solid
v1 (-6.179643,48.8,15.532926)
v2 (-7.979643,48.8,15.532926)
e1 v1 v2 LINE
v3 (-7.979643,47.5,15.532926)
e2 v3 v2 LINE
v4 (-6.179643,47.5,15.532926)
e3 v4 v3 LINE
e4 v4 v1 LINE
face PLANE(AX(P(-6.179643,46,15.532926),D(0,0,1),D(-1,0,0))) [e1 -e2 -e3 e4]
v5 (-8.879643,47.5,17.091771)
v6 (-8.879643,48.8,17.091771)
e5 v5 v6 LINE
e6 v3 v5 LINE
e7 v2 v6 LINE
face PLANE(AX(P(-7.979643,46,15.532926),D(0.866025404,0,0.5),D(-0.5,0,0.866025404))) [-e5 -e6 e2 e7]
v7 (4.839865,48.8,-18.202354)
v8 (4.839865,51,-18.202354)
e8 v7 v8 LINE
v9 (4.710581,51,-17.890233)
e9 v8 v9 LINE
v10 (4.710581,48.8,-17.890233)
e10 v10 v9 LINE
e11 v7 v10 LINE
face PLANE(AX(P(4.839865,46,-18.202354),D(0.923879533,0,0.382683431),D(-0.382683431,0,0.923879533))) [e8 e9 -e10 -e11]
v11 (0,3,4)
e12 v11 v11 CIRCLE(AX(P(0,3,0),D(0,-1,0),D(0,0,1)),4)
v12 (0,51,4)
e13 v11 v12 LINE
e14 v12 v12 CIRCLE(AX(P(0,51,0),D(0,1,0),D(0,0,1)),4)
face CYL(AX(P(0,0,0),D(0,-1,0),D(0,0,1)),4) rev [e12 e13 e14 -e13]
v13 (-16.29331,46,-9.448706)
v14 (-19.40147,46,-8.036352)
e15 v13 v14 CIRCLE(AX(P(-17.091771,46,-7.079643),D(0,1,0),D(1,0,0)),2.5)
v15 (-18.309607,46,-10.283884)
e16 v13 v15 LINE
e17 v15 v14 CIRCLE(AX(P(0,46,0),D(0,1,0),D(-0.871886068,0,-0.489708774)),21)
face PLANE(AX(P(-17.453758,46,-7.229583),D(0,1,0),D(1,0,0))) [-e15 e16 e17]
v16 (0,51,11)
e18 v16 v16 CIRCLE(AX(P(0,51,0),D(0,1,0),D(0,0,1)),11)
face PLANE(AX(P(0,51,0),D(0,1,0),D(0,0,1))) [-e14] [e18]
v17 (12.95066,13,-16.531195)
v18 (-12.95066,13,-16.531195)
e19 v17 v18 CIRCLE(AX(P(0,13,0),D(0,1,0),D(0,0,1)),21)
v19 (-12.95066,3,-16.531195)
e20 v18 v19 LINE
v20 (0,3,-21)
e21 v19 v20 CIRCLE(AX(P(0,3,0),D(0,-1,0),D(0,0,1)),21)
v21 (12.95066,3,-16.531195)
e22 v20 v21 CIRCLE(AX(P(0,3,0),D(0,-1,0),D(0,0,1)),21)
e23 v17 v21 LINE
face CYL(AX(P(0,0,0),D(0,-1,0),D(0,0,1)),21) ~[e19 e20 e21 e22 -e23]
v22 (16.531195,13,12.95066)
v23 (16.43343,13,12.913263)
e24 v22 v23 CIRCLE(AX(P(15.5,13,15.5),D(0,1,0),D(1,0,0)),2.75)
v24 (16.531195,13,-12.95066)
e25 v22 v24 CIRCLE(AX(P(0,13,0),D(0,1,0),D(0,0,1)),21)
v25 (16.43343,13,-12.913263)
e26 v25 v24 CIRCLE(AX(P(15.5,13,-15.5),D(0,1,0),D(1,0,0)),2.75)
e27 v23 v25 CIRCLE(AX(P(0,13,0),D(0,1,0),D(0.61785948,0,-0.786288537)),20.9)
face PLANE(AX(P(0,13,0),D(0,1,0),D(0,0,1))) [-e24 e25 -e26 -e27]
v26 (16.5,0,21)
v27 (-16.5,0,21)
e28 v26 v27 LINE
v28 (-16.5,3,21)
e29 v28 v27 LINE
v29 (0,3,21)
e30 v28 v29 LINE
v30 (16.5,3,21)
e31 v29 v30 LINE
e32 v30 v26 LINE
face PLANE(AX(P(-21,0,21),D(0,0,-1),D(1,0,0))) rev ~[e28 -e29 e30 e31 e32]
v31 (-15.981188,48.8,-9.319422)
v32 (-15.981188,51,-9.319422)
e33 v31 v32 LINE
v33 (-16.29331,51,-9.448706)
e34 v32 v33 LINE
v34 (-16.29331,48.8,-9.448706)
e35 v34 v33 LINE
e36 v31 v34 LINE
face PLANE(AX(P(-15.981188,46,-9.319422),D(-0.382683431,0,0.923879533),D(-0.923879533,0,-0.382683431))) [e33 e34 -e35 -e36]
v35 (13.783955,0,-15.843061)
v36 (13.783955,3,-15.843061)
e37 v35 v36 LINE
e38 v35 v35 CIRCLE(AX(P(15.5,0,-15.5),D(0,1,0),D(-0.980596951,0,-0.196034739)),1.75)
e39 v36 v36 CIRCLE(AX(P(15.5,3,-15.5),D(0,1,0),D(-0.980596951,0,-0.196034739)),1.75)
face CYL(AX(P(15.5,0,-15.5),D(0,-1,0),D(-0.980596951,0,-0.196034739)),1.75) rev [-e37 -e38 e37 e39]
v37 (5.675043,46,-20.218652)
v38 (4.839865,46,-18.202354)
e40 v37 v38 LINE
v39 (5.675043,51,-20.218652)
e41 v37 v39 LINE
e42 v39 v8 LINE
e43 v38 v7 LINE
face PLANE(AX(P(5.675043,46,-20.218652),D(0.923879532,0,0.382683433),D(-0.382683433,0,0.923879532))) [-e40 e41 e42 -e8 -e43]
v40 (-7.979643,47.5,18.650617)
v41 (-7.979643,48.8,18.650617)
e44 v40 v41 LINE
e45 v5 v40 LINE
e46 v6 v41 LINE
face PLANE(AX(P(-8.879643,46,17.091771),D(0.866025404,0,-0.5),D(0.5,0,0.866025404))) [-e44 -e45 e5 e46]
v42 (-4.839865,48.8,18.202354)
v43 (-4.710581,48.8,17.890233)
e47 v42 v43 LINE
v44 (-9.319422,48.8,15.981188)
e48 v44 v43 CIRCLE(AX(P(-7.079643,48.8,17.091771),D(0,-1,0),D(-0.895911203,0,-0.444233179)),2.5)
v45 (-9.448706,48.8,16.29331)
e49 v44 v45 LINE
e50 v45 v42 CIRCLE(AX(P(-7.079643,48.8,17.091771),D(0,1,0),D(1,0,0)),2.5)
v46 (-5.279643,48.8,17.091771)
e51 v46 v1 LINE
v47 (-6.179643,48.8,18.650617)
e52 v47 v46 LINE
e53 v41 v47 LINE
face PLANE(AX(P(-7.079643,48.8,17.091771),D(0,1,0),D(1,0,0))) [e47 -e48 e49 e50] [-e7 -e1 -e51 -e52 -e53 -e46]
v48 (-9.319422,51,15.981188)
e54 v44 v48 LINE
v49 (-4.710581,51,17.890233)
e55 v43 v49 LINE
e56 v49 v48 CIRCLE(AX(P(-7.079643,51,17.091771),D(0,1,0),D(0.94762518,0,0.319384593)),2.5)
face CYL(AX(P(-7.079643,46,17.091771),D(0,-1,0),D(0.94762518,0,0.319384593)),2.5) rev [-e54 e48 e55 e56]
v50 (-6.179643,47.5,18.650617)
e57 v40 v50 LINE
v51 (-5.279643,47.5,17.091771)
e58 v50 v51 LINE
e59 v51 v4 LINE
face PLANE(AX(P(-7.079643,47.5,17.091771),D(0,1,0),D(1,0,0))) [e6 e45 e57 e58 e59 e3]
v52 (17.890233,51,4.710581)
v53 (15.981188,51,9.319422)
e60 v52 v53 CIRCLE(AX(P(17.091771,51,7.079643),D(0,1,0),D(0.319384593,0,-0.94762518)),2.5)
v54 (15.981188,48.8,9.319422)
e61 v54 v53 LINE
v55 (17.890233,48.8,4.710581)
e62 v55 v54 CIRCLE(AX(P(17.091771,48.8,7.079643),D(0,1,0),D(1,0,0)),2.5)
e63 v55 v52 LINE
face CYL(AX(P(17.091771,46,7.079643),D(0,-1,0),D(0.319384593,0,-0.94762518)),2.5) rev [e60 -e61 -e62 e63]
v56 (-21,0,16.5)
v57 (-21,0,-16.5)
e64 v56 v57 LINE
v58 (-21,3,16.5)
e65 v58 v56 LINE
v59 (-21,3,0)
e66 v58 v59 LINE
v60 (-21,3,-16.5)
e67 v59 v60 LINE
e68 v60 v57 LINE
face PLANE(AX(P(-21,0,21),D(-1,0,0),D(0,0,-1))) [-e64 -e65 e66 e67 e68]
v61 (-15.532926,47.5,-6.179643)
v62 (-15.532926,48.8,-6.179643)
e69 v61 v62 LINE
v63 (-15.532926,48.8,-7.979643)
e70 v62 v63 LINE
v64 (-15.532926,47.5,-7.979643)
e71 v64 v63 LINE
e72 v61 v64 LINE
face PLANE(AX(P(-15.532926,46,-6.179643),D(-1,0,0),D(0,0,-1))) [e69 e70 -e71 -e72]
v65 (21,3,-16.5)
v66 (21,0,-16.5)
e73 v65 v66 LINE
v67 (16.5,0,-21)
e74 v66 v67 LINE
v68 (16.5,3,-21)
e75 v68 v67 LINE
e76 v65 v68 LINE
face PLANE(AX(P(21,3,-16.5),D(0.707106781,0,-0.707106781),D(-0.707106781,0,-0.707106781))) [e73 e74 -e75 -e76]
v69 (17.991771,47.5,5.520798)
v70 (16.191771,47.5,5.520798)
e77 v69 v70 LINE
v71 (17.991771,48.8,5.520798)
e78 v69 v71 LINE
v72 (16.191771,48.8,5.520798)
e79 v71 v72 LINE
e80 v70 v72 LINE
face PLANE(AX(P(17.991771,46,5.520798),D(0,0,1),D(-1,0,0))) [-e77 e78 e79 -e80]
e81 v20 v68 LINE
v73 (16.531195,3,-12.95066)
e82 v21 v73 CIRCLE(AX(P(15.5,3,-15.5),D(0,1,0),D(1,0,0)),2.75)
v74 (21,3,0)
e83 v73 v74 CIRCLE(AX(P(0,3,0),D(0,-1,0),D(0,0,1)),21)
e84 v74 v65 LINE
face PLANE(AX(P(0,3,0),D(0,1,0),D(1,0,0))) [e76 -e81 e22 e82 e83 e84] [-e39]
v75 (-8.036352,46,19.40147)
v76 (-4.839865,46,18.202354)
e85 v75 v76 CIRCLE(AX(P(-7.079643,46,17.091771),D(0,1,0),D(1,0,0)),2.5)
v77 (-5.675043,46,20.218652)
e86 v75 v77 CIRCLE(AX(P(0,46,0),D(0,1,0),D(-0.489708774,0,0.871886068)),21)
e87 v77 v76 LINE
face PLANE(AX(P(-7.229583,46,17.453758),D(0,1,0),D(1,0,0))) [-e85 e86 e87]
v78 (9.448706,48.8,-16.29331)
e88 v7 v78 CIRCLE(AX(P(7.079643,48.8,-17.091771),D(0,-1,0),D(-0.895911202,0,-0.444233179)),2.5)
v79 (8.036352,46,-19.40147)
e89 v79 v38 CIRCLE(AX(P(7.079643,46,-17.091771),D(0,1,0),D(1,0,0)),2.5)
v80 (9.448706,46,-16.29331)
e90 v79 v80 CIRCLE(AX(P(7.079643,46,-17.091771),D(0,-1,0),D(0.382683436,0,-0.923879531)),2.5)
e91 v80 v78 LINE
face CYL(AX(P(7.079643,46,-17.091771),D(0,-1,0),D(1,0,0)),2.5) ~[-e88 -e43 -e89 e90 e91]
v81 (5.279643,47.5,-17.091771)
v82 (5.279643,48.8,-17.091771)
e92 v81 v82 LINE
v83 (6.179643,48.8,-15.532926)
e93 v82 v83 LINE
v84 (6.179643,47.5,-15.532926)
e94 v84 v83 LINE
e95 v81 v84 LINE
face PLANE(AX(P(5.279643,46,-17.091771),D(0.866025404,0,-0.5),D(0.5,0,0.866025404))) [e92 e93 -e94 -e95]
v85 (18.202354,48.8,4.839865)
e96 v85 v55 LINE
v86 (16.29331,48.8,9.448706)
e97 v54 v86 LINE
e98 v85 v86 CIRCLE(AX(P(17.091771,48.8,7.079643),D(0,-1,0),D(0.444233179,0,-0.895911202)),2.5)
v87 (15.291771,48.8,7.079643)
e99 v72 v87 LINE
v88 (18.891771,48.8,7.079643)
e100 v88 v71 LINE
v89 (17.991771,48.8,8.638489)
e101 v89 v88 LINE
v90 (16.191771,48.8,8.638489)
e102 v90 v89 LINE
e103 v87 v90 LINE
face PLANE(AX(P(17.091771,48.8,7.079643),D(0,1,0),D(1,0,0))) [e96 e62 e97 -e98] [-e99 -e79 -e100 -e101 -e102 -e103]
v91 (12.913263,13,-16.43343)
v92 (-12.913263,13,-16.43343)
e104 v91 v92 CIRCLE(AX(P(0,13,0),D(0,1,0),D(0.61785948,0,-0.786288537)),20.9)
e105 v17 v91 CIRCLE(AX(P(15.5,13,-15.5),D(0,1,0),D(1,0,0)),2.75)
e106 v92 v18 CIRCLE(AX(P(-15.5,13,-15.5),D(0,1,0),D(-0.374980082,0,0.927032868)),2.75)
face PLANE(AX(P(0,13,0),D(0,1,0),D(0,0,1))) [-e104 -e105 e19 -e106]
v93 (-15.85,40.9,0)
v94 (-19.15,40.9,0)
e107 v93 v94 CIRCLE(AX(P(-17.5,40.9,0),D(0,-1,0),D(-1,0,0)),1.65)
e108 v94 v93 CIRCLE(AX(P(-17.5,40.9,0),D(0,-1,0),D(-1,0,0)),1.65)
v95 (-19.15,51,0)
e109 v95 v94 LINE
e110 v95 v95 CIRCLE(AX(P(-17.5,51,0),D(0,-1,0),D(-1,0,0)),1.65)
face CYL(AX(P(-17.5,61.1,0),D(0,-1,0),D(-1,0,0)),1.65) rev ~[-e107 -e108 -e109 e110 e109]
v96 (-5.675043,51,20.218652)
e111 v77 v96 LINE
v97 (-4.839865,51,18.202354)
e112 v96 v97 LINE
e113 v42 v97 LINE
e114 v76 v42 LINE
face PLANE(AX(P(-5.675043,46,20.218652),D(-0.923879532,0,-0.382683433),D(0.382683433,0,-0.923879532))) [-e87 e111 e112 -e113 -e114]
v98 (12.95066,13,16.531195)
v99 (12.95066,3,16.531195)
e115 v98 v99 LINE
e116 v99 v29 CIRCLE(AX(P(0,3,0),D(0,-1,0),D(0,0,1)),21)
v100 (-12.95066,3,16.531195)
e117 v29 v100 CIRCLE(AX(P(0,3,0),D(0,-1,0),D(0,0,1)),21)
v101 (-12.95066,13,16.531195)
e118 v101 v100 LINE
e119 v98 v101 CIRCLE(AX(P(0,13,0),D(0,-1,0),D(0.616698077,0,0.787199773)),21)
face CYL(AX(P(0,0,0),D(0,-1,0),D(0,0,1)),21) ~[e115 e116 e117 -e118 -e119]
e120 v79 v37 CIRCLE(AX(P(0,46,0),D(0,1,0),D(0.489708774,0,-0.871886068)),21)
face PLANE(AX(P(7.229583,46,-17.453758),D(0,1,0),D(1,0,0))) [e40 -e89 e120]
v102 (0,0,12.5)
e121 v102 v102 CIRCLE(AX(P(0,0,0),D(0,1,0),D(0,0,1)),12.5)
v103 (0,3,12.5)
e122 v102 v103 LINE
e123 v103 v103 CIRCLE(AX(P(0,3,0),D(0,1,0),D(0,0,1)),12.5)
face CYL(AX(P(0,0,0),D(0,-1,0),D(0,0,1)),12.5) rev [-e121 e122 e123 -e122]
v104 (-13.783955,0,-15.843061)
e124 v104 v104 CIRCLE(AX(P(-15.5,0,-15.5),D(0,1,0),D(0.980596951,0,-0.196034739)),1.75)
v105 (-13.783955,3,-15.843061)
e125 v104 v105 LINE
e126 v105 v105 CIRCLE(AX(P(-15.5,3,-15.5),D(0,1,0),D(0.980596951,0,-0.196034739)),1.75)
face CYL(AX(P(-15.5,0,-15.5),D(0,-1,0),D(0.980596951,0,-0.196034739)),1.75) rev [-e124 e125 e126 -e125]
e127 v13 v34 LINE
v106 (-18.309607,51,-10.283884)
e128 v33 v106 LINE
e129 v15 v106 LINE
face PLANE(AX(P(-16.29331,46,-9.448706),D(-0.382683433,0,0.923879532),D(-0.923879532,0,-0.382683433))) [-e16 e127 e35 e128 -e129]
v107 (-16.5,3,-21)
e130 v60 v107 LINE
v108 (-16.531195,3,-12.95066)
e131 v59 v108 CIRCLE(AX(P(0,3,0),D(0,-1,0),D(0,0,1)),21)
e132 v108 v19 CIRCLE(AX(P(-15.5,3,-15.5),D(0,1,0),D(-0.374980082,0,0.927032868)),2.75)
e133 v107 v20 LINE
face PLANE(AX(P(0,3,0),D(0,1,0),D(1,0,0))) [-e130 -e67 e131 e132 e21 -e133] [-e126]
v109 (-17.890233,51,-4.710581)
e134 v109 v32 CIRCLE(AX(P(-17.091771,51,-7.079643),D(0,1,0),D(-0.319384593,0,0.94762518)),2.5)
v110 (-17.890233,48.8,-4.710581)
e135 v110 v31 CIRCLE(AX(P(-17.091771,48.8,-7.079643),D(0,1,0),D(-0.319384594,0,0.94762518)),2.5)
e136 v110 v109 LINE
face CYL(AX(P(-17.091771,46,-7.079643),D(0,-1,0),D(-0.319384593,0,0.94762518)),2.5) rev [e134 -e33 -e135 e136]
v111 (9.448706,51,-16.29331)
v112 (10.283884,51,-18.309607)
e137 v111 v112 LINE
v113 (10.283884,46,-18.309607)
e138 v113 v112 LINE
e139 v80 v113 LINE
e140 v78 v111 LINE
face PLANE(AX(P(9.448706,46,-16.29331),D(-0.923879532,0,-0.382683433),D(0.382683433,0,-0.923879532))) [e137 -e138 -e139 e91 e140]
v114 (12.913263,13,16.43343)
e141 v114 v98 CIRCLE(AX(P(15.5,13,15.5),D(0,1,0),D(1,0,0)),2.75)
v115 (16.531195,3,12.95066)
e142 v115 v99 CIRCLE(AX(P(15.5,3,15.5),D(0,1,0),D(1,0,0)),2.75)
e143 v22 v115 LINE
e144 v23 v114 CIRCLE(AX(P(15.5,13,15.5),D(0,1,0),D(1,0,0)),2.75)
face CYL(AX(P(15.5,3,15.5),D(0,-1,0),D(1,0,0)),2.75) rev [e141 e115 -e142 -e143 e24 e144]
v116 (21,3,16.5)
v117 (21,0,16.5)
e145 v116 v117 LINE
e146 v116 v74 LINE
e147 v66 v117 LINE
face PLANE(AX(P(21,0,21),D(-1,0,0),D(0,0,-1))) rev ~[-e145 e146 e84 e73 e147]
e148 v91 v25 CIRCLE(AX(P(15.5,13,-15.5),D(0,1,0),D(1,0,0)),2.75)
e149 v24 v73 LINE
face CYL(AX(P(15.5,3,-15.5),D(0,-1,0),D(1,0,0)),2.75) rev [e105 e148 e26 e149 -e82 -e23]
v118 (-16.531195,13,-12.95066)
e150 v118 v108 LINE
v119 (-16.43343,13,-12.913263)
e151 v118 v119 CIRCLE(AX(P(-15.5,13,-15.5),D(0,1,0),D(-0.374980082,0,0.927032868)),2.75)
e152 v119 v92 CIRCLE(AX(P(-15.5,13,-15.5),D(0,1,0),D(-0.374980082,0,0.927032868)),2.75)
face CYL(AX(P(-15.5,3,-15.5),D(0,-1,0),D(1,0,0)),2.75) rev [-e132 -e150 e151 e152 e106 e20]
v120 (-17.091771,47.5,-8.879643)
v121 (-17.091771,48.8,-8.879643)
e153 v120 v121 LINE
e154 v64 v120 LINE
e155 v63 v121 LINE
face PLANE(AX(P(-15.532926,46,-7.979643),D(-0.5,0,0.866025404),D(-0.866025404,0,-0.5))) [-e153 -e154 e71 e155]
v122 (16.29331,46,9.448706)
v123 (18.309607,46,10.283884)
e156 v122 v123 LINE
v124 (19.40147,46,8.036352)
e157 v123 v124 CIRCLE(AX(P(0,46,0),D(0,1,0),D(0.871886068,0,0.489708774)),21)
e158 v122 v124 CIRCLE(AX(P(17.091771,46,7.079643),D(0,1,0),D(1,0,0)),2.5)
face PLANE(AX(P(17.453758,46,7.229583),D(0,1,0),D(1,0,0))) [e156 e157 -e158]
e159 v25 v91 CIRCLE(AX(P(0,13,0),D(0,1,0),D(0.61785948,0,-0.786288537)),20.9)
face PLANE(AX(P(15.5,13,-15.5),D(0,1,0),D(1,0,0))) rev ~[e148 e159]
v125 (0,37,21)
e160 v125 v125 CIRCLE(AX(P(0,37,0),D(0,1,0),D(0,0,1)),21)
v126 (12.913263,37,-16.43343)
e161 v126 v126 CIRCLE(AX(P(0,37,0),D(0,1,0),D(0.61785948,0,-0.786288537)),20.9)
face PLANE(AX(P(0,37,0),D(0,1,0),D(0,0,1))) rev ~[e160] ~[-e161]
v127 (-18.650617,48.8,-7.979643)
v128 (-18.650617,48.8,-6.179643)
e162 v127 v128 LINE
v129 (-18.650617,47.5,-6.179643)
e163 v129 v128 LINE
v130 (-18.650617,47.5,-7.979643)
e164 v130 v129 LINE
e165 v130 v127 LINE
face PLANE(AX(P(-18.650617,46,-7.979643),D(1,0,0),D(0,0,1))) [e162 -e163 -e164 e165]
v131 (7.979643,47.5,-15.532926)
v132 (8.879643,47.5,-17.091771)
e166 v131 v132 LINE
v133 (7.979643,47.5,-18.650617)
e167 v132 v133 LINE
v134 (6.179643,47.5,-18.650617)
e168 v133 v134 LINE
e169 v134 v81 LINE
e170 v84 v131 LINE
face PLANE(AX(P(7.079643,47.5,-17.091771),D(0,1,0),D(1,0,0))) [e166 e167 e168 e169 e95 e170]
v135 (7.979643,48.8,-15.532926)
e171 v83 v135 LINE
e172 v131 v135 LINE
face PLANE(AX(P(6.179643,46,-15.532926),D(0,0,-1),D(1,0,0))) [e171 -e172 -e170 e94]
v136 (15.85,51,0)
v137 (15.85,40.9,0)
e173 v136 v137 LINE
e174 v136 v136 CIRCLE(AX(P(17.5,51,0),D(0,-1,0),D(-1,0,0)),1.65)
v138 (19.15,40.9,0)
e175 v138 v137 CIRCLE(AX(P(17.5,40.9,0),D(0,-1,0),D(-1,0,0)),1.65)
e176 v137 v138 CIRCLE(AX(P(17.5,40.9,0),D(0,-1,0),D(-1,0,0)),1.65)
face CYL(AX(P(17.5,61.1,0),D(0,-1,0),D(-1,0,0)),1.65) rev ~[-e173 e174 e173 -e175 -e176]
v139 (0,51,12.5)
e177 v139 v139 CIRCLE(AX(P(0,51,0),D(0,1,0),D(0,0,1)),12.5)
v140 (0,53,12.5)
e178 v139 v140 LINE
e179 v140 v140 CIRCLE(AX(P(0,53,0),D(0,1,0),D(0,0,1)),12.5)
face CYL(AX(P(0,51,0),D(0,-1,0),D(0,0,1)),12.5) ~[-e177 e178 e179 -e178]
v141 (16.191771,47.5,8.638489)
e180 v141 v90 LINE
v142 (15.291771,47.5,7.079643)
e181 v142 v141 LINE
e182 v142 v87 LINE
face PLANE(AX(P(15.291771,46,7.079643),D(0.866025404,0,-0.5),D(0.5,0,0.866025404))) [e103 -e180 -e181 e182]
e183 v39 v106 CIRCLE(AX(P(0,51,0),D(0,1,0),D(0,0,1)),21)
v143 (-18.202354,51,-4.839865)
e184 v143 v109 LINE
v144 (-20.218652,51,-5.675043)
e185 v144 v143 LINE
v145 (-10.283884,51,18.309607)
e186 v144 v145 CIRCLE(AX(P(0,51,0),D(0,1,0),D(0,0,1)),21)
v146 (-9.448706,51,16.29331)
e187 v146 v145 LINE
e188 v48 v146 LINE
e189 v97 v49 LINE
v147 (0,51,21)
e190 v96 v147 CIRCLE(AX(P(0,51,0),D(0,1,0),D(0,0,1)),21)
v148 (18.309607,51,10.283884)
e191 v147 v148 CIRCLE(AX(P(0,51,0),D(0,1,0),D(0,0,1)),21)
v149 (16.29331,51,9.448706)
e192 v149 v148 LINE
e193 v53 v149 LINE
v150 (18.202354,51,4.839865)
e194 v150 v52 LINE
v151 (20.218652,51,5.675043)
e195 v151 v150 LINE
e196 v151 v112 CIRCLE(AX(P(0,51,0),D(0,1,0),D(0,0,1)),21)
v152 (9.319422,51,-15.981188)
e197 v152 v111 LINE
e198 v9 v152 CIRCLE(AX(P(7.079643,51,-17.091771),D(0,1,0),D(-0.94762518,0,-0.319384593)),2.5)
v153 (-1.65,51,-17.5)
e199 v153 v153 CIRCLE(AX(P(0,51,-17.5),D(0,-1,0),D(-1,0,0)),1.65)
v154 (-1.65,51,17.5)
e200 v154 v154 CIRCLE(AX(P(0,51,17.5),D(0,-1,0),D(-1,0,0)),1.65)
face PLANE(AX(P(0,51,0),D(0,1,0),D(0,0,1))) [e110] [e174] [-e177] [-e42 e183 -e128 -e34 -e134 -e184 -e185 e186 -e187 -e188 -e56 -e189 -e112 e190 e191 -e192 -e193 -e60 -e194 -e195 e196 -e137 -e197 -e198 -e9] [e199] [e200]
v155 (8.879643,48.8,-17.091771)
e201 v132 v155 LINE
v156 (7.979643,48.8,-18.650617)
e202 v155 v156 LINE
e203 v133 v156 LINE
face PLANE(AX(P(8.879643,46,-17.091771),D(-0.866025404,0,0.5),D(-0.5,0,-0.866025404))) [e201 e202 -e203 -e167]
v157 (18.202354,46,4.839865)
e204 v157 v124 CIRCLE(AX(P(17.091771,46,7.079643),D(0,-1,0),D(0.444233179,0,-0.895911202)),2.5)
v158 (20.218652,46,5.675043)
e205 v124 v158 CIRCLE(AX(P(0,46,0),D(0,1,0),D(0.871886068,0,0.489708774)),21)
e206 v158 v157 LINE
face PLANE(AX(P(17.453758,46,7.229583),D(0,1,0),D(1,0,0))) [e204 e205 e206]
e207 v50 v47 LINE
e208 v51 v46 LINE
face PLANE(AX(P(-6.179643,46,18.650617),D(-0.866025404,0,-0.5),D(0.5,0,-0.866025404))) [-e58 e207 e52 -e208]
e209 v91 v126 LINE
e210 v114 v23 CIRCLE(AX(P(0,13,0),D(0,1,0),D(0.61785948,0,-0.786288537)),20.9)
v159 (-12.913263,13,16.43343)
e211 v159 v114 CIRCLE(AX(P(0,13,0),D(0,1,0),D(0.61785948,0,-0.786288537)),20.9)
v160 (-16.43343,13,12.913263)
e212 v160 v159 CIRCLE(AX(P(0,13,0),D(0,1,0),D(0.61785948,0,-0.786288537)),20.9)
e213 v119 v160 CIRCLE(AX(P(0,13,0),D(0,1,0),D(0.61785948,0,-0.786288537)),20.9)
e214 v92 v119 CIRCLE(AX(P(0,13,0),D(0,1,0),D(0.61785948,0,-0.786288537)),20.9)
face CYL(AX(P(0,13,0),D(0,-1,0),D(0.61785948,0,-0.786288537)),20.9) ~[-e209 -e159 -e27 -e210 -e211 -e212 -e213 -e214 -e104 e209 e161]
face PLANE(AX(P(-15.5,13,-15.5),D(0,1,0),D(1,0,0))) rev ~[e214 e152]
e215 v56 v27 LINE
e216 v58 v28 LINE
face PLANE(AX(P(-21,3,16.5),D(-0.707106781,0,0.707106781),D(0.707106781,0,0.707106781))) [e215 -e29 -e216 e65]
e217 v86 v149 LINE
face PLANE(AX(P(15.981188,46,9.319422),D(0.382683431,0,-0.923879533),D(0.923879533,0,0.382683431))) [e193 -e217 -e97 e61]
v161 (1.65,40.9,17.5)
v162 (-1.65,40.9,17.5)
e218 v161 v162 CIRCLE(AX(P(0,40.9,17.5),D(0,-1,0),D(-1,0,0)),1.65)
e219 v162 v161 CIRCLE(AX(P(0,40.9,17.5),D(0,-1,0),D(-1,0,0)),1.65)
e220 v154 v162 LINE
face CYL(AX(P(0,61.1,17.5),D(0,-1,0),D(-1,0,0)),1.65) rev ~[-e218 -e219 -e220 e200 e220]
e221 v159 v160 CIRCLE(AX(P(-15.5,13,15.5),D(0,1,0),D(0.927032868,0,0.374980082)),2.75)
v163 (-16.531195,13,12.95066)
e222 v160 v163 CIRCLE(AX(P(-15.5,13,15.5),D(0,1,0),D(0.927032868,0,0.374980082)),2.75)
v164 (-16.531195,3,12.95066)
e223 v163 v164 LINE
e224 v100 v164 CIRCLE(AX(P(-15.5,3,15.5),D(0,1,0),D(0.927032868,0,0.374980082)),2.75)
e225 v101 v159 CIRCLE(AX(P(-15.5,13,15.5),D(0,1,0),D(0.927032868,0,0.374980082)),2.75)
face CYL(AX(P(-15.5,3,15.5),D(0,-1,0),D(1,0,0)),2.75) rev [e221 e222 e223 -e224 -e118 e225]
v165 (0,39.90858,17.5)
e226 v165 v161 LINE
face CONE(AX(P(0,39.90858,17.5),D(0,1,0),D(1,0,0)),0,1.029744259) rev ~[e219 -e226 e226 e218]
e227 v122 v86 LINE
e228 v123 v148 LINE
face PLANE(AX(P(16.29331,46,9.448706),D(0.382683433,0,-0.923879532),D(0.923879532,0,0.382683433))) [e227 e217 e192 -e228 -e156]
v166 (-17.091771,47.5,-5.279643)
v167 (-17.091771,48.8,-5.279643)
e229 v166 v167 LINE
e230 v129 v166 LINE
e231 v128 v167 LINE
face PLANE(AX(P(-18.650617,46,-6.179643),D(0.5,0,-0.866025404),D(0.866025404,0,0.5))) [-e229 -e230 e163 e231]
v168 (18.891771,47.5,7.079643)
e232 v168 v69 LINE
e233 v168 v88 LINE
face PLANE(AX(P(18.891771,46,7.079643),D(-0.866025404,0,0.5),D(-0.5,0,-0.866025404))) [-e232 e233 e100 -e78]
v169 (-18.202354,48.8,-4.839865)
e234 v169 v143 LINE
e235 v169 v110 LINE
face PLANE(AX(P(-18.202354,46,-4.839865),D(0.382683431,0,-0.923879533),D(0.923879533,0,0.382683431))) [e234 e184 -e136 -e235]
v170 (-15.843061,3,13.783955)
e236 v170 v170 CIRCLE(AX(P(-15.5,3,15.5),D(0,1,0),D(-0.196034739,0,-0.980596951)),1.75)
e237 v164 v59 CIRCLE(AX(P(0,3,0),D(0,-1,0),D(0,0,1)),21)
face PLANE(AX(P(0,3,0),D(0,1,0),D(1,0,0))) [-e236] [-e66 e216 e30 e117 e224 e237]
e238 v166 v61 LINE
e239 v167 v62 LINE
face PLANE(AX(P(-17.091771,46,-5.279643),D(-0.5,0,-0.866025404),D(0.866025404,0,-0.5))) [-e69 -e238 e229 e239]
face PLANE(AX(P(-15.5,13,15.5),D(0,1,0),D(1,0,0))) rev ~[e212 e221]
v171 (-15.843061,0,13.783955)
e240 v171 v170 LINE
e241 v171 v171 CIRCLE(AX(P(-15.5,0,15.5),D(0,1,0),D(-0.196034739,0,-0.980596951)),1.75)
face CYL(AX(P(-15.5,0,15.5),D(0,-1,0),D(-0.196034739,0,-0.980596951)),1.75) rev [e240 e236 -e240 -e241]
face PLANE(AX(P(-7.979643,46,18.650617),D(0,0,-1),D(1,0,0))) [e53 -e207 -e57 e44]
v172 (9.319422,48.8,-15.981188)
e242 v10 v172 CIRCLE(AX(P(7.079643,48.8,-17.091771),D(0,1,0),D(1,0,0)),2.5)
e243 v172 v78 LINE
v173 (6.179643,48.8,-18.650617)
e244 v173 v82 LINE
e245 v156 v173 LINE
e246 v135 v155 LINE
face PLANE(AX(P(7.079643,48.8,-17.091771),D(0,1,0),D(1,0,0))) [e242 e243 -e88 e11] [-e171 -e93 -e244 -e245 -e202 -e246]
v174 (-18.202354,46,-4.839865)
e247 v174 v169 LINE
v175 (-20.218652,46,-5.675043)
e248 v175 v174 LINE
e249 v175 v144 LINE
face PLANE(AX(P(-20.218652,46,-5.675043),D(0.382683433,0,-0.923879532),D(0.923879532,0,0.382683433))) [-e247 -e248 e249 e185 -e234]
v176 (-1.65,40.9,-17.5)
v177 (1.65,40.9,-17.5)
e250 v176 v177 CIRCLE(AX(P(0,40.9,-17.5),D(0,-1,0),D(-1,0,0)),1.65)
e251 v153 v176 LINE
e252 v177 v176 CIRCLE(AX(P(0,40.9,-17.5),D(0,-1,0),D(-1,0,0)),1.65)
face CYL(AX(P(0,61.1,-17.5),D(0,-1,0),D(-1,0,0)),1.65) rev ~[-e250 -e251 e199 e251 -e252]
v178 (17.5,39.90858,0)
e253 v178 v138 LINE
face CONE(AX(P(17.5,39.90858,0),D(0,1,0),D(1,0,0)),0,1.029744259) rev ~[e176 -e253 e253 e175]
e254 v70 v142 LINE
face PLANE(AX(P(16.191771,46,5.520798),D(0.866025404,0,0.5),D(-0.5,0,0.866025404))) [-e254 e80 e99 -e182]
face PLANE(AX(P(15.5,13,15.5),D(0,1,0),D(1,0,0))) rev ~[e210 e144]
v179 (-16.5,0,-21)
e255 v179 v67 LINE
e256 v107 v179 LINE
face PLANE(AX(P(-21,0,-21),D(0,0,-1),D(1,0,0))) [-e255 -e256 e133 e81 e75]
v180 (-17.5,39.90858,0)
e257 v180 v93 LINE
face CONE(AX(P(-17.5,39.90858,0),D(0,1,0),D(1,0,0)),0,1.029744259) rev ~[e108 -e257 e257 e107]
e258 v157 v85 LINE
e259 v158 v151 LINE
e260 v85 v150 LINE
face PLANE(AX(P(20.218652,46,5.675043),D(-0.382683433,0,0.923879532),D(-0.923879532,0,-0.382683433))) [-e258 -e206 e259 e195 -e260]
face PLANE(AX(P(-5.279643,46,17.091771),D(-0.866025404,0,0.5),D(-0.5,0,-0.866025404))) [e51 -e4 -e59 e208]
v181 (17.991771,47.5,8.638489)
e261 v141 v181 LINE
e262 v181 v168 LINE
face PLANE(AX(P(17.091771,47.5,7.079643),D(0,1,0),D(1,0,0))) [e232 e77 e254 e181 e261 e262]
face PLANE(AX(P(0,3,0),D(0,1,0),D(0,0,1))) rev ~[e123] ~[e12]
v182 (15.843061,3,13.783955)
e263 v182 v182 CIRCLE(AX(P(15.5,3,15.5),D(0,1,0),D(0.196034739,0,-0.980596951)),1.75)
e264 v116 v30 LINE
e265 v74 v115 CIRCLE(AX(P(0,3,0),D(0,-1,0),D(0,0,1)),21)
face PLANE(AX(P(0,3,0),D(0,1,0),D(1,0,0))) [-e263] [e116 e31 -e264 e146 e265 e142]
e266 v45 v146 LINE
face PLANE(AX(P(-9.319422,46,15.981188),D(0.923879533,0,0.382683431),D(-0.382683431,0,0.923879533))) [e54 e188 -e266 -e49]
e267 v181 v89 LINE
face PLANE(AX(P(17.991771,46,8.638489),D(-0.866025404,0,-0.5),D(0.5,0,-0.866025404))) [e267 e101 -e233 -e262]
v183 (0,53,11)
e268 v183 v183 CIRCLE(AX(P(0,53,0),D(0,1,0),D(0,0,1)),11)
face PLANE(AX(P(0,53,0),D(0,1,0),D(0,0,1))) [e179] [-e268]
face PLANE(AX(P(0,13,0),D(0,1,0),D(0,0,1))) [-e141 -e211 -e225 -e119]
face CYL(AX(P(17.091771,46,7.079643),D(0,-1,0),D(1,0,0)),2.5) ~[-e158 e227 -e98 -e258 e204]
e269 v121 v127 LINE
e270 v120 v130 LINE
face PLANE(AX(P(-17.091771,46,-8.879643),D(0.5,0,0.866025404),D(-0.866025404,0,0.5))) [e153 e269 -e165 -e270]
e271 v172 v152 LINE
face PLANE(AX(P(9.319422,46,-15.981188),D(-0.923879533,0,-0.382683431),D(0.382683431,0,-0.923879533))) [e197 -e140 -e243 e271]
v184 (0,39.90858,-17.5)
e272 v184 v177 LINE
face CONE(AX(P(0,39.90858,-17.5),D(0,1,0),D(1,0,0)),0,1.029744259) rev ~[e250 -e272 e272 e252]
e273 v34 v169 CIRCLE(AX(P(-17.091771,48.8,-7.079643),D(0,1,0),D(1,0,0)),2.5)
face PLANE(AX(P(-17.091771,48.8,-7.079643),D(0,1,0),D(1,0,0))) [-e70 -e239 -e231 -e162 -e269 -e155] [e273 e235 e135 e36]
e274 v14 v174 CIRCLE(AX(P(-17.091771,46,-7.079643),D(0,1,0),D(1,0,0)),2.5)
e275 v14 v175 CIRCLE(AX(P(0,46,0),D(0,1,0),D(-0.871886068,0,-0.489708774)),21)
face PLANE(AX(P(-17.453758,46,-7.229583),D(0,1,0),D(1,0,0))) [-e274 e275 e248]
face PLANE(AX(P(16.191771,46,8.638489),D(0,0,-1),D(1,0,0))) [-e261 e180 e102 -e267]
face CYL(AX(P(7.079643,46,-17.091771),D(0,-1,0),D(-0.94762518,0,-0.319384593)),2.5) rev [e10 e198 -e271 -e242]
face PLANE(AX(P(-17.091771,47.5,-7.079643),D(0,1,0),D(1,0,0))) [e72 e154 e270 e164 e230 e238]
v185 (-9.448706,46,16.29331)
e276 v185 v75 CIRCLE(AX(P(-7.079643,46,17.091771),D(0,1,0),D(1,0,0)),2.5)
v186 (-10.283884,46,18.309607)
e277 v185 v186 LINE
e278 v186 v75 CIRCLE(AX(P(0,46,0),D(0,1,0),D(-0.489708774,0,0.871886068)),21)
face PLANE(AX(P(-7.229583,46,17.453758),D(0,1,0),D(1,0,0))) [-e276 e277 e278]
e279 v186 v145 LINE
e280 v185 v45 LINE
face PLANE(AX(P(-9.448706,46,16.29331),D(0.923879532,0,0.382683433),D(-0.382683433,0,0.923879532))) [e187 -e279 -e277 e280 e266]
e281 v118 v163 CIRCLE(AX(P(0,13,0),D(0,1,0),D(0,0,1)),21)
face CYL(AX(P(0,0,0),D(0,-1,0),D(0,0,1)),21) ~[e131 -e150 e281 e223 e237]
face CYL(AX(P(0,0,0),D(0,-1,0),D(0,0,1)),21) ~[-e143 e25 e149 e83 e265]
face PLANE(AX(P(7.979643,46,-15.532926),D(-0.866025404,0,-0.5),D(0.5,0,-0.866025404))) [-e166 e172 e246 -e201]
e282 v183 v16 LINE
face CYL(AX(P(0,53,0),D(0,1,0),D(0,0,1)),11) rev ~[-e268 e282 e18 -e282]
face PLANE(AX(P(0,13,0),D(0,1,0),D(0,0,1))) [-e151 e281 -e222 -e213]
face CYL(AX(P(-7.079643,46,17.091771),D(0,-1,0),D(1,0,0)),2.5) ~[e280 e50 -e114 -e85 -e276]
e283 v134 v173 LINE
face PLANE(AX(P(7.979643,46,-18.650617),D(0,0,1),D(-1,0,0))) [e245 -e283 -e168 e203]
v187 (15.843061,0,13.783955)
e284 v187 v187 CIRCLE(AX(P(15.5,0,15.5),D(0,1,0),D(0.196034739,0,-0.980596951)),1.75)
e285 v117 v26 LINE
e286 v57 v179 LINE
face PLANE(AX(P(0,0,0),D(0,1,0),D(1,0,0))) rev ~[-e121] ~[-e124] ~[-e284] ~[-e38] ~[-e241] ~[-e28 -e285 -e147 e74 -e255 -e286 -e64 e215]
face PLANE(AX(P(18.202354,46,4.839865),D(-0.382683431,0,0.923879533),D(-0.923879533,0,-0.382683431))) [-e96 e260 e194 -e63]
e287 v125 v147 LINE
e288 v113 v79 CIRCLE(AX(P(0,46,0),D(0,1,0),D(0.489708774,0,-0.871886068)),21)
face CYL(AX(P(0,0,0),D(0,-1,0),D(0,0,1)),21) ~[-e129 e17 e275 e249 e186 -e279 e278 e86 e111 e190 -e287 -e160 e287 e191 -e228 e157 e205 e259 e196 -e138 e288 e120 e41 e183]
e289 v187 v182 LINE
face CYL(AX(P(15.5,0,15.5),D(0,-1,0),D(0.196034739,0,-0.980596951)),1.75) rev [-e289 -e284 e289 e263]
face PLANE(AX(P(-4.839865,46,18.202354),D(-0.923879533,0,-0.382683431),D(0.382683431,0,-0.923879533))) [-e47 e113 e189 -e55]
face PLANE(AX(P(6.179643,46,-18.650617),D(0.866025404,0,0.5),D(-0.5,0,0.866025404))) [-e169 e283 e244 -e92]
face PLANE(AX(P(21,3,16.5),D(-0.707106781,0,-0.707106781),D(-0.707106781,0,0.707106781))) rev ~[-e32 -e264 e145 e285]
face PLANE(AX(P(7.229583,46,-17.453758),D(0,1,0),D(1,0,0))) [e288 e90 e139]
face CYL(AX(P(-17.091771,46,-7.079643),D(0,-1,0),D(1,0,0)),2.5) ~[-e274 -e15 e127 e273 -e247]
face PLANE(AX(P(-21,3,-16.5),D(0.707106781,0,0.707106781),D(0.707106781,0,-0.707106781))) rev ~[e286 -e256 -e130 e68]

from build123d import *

# Parameters (mm, degrees)
SKETCH_1_W             = 42
SKETCH_1_H             = 42
EXTRUDE_1_DEPTH        = 3
CUT_EXTRUDE_START      = 3
CUT_EXTRUDE_1_DEPTH    = 3
SKETCH_3_R             = 21
EXTRUDE_2_DEPTH        = 51
SKETCH_5_R             = 1.75
CUT_EXTRUDE_3_DEPTH    = 3
SKETCH_7_R             = 2.75
CUT_EXTRUDE_4_DEPTH    = 10
CUT_EXTRUDE_START_2    = 13
SKETCH_8_R             = 21
SKETCH_8_R_2           = 20.9
CUT_EXTRUDE_5_DEPTH    = 24
EXTRUDE_START          = 51
SKETCH_9_R             = 12.5
EXTRUDE_3_DEPTH        = 2
CUT_EXTRUDE_START_3    = 53
SKETCH_16_R            = 11
CUT_EXTRUDE_6_DEPTH    = 2
CUT_EXTRUDE_START_4    = 46
CUT_EXTRUDE_7_DEPTH    = 5
EXTRUDE_START_2        = 46
SKETCH_18_R            = 2.5
EXTRUDE_5_DEPTH        = 2.8
SKETCH_19_R            = 4
CUT_EXTRUDE_8_DEPTH    = 51
EXTRUDE_6_DEPTH        = 1.5
SKETCH_21_R            = 12.5
CUT_EXTRUDE_9_DEPTH    = 3
HOLE_WIZARD_M4_1_D     = 3.3
HOLE_WIZARD_M4_1_DEPTH = 10.1
HOLE_WIZARD_M4_1_TIP   = 0.991420021


with BuildPart() as part:
    # 草图1 → 凸台-拉伸1 (new body)
    with BuildSketch(Plane(origin=(0, 0, 0), x_dir=(1, 0, 0), z_dir=(0, 1, 0))):
        Rectangle(SKETCH_1_W, SKETCH_1_H)
    extrude(amount=EXTRUDE_1_DEPTH)

    # 草图2 → 切除-拉伸1 (cut)
    with BuildSketch(Plane(origin=(0, 0, 0), x_dir=(1, 0, 0), z_dir=(0, 1, 0)).offset(CUT_EXTRUDE_START)):
        Polygon((-21, 21), (-21, 16.5), (-16.5, 21), align=None)
        Polygon((16.5, 21), (21, 21), (21, 16.5), align=None)
        Polygon((21, -21), (21, -16.5), (16.5, -21), align=None)
        Polygon((-16.5, -21), (-21, -21), (-21, -16.5), align=None)
    extrude(amount=-CUT_EXTRUDE_1_DEPTH, mode=Mode.SUBTRACT)

    # 草图3 → 凸台-拉伸2 (add)
    with BuildSketch(Plane(origin=(0, 0, 0), x_dir=(1, 0, 0), z_dir=(0, 1, 0))):
        with Locations(Location((0, 0, 0), (0, 0, 270))):
            Circle(SKETCH_3_R)
    extrude(amount=EXTRUDE_2_DEPTH)

    # 草图5 → 切除-拉伸3 (cut)
    with BuildSketch(Plane(origin=(0, 0, 0), x_dir=(1, 0, 0), z_dir=(0, 1, 0))):
        with Locations(Location((-15.5, 15.5, 0), (0, 0, 11.30517652))):
            Circle(SKETCH_5_R)
        with Locations(Location((15.5, 15.5, 0), (0, 0, 168.69482348))):
            Circle(SKETCH_5_R)
        with Locations(Location((-15.5, -15.5, 0), (0, 0, 101.30517652))):
            Circle(SKETCH_5_R)
        with Locations(Location((15.5, -15.5, 0), (0, 0, 78.69482348))):
            Circle(SKETCH_5_R)
    extrude(amount=CUT_EXTRUDE_3_DEPTH, mode=Mode.SUBTRACT)

    # 草图7 → 切除-拉伸4 (cut)
    with BuildSketch(Plane(origin=(0, 0, 0), x_dir=(1, 0, 0), z_dir=(0, 1, 0)).offset(CUT_EXTRUDE_START)):
        with Locations((-15.5, 15.5)):
            Circle(SKETCH_7_R)
        with Locations((15.5, 15.5)):
            Circle(SKETCH_7_R)
        with Locations((-15.5, -15.5)):
            Circle(SKETCH_7_R)
        with Locations((15.5, -15.5)):
            Circle(SKETCH_7_R)
    extrude(amount=CUT_EXTRUDE_4_DEPTH, mode=Mode.SUBTRACT)

    # 草图8 → 切除-拉伸5 (cut)
    with BuildSketch(Plane(origin=(0, 0, 0), x_dir=(1, 0, 0), z_dir=(0, 1, 0)).offset(CUT_EXTRUDE_START_2)):
        with Locations(Location((0, 0, 0), (0, 0, 270))):
            Circle(SKETCH_8_R)
        with Locations(Location((0, 0, 0), (0, 0, 51.840009715))):
            Circle(SKETCH_8_R_2, mode=Mode.SUBTRACT)
    extrude(amount=CUT_EXTRUDE_5_DEPTH, mode=Mode.SUBTRACT)

    # 草图9 → 凸台-拉伸3 (add)
    with BuildSketch(Plane(origin=(0, 0, 0), x_dir=(1, 0, 0), z_dir=(0, 1, 0)).offset(EXTRUDE_START)):
        with Locations(Location((0, 0, 0), (0, 0, 270))):
            Circle(SKETCH_9_R)
    extrude(amount=EXTRUDE_3_DEPTH)

    # 草图16 → 切除-拉伸6 (cut)
    with BuildSketch(Plane(origin=(0, 0, 0), x_dir=(1, 0, 0), z_dir=(0, 1, 0)).offset(CUT_EXTRUDE_START_3)):
        with Locations(Location((0, 0, 0), (0, 0, 270))):
            Circle(SKETCH_16_R)
    extrude(amount=-CUT_EXTRUDE_6_DEPTH, mode=Mode.SUBTRACT)

    # 草图17 → 切除-拉伸7 (cut)
    with BuildSketch(Plane(origin=(0, 0, 0), x_dir=(1, 0, 0), z_dir=(0, 1, 0)).offset(CUT_EXTRUDE_START_4)):
        with BuildLine():
            Line((16.293309868, -9.448706448), (18.309607443, -10.28388425))
            ThreePointArc((18.309607443, -10.28388425), (19.401470183, -8.03635208), (20.218651874, -5.675043294))
            Line((20.218651874, -5.675043294), (18.202354299, -4.839865492))
            Line((18.202354299, -4.839865492), (17.890232835, -4.710580549))
            ThreePointArc((17.890232835, -4.710580549), (14.78207252, -6.122934918), (15.981188404, -9.319421505))
            Line((15.981188404, -9.319421505), (16.293309868, -9.448706448))
        make_face()
        with BuildLine():
            Line((-4.839865492, -18.202354299), (-4.710580549, -17.890232835))
            ThreePointArc((-4.710580549, -17.890232835), (-6.122934918, -14.78207252), (-9.319421505, -15.981188404))
            Line((-9.319421505, -15.981188404), (-9.448706448, -16.293309868))
            Line((-9.448706448, -16.293309868), (-10.28388425, -18.309607443))
            ThreePointArc((-10.28388425, -18.309607443), (-8.03635208, -19.401470183), (-5.675043294, -20.218651874))
            Line((-5.675043294, -20.218651874), (-4.839865492, -18.202354299))
        make_face()
        with BuildLine():
            Line((-16.293309868, 9.448706448), (-18.309607443, 10.28388425))
            ThreePointArc((-18.309607443, 10.28388425), (-19.401470183, 8.03635208), (-20.218651874, 5.675043294))
            Line((-20.218651874, 5.675043294), (-18.202354299, 4.839865492))
            Line((-18.202354299, 4.839865492), (-17.890232835, 4.710580549))
            ThreePointArc((-17.890232835, 4.710580549), (-14.78207252, 6.122934918), (-15.981188404, 9.319421505))
            Line((-15.981188404, 9.319421505), (-16.293309868, 9.448706448))
        make_face()
        with BuildLine():
            Line((4.839865492, 18.202354299), (4.710580549, 17.890232835))
            ThreePointArc((4.710580549, 17.890232835), (6.122934918, 14.78207252), (9.319421505, 15.981188404))
            Line((9.319421505, 15.981188404), (9.448706448, 16.293309868))
            Line((9.448706448, 16.293309868), (10.28388425, 18.309607443))
            ThreePointArc((10.28388425, 18.309607443), (8.03635208, 19.401470183), (5.675043294, 20.218651874))
            Line((5.675043294, 20.218651874), (4.839865492, 18.202354299))
        make_face()
    extrude(amount=CUT_EXTRUDE_7_DEPTH, mode=Mode.SUBTRACT)

    # 草图18 → 凸台-拉伸5 (add)
    # profile 1 of 4: a face of its own
    with BuildSketch(Plane(origin=(0, 0, 0), x_dir=(1, 0, 0), z_dir=(0, 1, 0)).offset(EXTRUDE_START_2)):
        with Locations((-17.091771351, 7.079643499)):
            Circle(SKETCH_18_R)
        Polygon((-15.532925625, 7.979643499), (-17.091771351, 8.879643499), (-18.650617078, 7.979643499), (-18.650617078, 6.179643499), (-17.091771351, 5.279643499), (-15.532925625, 6.179643499), align=None, mode=Mode.SUBTRACT)
    # profile 2 of 4: a face of its own
    with BuildSketch(Plane(origin=(0, 0, 0), x_dir=(1, 0, 0), z_dir=(0, 1, 0)).offset(EXTRUDE_START_2)):
        with Locations((-7.079643499, -17.091771351)):
            Circle(SKETCH_18_R)
        Polygon((-6.179643499, -18.650617078), (-5.279643499, -17.091771351), (-6.179643499, -15.532925625), (-7.979643499, -15.532925625), (-8.879643499, -17.091771351), (-7.979643499, -18.650617078), align=None, mode=Mode.SUBTRACT)
    # profile 3 of 4: a face of its own
    with BuildSketch(Plane(origin=(0, 0, 0), x_dir=(1, 0, 0), z_dir=(0, 1, 0)).offset(EXTRUDE_START_2)):
        with Locations((17.091771351, -7.079643499)):
            Circle(SKETCH_18_R)
        Polygon((18.891771351, -7.079643499), (17.991771351, -5.520797772), (16.191771351, -5.520797772), (15.291771351, -7.079643499), (16.191771351, -8.638489226), (17.991771351, -8.638489226), align=None, mode=Mode.SUBTRACT)
    # profile 4 of 4: a face of its own
    with BuildSketch(Plane(origin=(0, 0, 0), x_dir=(1, 0, 0), z_dir=(0, 1, 0)).offset(EXTRUDE_START_2)):
        with Locations((7.079643499, 17.091771351)):
            Circle(SKETCH_18_R)
        Polygon((7.979643499, 15.532925625), (8.879643499, 17.091771351), (7.979643499, 18.650617078), (6.179643499, 18.650617078), (5.279643499, 17.091771351), (6.179643499, 15.532925625), align=None, mode=Mode.SUBTRACT)
    extrude(amount=EXTRUDE_5_DEPTH)

    # 草图19 → 切除-拉伸8 (cut)
    with BuildSketch(Plane(origin=(0, 0, 0), x_dir=(1, 0, 0), z_dir=(0, 1, 0))):
        with Locations(Location((0, 0, 0), (0, 0, 270))):
            Circle(SKETCH_19_R)
    extrude(amount=CUT_EXTRUDE_8_DEPTH, mode=Mode.SUBTRACT)

    # 草图20 → 凸台-拉伸6 (add)
    with BuildSketch(Plane(origin=(0, 0, 0), x_dir=(1, 0, 0), z_dir=(0, 1, 0)).offset(EXTRUDE_START_2)):
        Polygon((7.979643499, 18.650617078), (6.179643499, 18.650617078), (5.279643499, 17.091771351), (6.179643499, 15.532925625), (7.979643499, 15.532925625), (8.879643499, 17.091771351), align=None)
        Polygon((16.191771351, -5.520797772), (15.291771351, -7.079643499), (16.191771351, -8.638489226), (17.991771351, -8.638489226), (18.891771351, -7.079643499), (17.991771351, -5.520797772), align=None)
        Polygon((-6.179643499, -15.532925625), (-7.979643499, -15.532925625), (-8.879643499, -17.091771351), (-7.979643499, -18.650617078), (-6.179643499, -18.650617078), (-5.279643499, -17.091771351), align=None)
        Polygon((-18.650617078, 7.979643499), (-18.650617078, 6.179643499), (-17.091771351, 5.279643499), (-15.532925625, 6.179643499), (-15.532925625, 7.979643499), (-17.091771351, 8.879643499), align=None)
    extrude(amount=EXTRUDE_6_DEPTH)

    # 草图21 → 切除-拉伸9 (cut)
    with BuildSketch(Plane(origin=(0, 0, 0), x_dir=(1, 0, 0), z_dir=(0, 1, 0))):
        with Locations(Location((0, 0, 0), (0, 0, 270))):
            Circle(SKETCH_21_R)
    extrude(amount=CUT_EXTRUDE_9_DEPTH, mode=Mode.SUBTRACT)

    # M4 螺纹孔1
    with Locations(Plane(origin=(0, 51, 0), x_dir=(1, 0, 0), z_dir=(0, 1, 0))):
        with Locations((0, 17.5), (-17.5, 0), (17.5, 0), (0, -17.5)):
            Hole(HOLE_WIZARD_M4_1_D / 2, depth=HOLE_WIZARD_M4_1_DEPTH)
            with Locations((0, 0, -(HOLE_WIZARD_M4_1_DEPTH + HOLE_WIZARD_M4_1_TIP / 2))):  # 118° drill point
                Cone(0, HOLE_WIZARD_M4_1_D / 2, HOLE_WIZARD_M4_1_TIP, mode=Mode.SUBTRACT)


solid = part.part
